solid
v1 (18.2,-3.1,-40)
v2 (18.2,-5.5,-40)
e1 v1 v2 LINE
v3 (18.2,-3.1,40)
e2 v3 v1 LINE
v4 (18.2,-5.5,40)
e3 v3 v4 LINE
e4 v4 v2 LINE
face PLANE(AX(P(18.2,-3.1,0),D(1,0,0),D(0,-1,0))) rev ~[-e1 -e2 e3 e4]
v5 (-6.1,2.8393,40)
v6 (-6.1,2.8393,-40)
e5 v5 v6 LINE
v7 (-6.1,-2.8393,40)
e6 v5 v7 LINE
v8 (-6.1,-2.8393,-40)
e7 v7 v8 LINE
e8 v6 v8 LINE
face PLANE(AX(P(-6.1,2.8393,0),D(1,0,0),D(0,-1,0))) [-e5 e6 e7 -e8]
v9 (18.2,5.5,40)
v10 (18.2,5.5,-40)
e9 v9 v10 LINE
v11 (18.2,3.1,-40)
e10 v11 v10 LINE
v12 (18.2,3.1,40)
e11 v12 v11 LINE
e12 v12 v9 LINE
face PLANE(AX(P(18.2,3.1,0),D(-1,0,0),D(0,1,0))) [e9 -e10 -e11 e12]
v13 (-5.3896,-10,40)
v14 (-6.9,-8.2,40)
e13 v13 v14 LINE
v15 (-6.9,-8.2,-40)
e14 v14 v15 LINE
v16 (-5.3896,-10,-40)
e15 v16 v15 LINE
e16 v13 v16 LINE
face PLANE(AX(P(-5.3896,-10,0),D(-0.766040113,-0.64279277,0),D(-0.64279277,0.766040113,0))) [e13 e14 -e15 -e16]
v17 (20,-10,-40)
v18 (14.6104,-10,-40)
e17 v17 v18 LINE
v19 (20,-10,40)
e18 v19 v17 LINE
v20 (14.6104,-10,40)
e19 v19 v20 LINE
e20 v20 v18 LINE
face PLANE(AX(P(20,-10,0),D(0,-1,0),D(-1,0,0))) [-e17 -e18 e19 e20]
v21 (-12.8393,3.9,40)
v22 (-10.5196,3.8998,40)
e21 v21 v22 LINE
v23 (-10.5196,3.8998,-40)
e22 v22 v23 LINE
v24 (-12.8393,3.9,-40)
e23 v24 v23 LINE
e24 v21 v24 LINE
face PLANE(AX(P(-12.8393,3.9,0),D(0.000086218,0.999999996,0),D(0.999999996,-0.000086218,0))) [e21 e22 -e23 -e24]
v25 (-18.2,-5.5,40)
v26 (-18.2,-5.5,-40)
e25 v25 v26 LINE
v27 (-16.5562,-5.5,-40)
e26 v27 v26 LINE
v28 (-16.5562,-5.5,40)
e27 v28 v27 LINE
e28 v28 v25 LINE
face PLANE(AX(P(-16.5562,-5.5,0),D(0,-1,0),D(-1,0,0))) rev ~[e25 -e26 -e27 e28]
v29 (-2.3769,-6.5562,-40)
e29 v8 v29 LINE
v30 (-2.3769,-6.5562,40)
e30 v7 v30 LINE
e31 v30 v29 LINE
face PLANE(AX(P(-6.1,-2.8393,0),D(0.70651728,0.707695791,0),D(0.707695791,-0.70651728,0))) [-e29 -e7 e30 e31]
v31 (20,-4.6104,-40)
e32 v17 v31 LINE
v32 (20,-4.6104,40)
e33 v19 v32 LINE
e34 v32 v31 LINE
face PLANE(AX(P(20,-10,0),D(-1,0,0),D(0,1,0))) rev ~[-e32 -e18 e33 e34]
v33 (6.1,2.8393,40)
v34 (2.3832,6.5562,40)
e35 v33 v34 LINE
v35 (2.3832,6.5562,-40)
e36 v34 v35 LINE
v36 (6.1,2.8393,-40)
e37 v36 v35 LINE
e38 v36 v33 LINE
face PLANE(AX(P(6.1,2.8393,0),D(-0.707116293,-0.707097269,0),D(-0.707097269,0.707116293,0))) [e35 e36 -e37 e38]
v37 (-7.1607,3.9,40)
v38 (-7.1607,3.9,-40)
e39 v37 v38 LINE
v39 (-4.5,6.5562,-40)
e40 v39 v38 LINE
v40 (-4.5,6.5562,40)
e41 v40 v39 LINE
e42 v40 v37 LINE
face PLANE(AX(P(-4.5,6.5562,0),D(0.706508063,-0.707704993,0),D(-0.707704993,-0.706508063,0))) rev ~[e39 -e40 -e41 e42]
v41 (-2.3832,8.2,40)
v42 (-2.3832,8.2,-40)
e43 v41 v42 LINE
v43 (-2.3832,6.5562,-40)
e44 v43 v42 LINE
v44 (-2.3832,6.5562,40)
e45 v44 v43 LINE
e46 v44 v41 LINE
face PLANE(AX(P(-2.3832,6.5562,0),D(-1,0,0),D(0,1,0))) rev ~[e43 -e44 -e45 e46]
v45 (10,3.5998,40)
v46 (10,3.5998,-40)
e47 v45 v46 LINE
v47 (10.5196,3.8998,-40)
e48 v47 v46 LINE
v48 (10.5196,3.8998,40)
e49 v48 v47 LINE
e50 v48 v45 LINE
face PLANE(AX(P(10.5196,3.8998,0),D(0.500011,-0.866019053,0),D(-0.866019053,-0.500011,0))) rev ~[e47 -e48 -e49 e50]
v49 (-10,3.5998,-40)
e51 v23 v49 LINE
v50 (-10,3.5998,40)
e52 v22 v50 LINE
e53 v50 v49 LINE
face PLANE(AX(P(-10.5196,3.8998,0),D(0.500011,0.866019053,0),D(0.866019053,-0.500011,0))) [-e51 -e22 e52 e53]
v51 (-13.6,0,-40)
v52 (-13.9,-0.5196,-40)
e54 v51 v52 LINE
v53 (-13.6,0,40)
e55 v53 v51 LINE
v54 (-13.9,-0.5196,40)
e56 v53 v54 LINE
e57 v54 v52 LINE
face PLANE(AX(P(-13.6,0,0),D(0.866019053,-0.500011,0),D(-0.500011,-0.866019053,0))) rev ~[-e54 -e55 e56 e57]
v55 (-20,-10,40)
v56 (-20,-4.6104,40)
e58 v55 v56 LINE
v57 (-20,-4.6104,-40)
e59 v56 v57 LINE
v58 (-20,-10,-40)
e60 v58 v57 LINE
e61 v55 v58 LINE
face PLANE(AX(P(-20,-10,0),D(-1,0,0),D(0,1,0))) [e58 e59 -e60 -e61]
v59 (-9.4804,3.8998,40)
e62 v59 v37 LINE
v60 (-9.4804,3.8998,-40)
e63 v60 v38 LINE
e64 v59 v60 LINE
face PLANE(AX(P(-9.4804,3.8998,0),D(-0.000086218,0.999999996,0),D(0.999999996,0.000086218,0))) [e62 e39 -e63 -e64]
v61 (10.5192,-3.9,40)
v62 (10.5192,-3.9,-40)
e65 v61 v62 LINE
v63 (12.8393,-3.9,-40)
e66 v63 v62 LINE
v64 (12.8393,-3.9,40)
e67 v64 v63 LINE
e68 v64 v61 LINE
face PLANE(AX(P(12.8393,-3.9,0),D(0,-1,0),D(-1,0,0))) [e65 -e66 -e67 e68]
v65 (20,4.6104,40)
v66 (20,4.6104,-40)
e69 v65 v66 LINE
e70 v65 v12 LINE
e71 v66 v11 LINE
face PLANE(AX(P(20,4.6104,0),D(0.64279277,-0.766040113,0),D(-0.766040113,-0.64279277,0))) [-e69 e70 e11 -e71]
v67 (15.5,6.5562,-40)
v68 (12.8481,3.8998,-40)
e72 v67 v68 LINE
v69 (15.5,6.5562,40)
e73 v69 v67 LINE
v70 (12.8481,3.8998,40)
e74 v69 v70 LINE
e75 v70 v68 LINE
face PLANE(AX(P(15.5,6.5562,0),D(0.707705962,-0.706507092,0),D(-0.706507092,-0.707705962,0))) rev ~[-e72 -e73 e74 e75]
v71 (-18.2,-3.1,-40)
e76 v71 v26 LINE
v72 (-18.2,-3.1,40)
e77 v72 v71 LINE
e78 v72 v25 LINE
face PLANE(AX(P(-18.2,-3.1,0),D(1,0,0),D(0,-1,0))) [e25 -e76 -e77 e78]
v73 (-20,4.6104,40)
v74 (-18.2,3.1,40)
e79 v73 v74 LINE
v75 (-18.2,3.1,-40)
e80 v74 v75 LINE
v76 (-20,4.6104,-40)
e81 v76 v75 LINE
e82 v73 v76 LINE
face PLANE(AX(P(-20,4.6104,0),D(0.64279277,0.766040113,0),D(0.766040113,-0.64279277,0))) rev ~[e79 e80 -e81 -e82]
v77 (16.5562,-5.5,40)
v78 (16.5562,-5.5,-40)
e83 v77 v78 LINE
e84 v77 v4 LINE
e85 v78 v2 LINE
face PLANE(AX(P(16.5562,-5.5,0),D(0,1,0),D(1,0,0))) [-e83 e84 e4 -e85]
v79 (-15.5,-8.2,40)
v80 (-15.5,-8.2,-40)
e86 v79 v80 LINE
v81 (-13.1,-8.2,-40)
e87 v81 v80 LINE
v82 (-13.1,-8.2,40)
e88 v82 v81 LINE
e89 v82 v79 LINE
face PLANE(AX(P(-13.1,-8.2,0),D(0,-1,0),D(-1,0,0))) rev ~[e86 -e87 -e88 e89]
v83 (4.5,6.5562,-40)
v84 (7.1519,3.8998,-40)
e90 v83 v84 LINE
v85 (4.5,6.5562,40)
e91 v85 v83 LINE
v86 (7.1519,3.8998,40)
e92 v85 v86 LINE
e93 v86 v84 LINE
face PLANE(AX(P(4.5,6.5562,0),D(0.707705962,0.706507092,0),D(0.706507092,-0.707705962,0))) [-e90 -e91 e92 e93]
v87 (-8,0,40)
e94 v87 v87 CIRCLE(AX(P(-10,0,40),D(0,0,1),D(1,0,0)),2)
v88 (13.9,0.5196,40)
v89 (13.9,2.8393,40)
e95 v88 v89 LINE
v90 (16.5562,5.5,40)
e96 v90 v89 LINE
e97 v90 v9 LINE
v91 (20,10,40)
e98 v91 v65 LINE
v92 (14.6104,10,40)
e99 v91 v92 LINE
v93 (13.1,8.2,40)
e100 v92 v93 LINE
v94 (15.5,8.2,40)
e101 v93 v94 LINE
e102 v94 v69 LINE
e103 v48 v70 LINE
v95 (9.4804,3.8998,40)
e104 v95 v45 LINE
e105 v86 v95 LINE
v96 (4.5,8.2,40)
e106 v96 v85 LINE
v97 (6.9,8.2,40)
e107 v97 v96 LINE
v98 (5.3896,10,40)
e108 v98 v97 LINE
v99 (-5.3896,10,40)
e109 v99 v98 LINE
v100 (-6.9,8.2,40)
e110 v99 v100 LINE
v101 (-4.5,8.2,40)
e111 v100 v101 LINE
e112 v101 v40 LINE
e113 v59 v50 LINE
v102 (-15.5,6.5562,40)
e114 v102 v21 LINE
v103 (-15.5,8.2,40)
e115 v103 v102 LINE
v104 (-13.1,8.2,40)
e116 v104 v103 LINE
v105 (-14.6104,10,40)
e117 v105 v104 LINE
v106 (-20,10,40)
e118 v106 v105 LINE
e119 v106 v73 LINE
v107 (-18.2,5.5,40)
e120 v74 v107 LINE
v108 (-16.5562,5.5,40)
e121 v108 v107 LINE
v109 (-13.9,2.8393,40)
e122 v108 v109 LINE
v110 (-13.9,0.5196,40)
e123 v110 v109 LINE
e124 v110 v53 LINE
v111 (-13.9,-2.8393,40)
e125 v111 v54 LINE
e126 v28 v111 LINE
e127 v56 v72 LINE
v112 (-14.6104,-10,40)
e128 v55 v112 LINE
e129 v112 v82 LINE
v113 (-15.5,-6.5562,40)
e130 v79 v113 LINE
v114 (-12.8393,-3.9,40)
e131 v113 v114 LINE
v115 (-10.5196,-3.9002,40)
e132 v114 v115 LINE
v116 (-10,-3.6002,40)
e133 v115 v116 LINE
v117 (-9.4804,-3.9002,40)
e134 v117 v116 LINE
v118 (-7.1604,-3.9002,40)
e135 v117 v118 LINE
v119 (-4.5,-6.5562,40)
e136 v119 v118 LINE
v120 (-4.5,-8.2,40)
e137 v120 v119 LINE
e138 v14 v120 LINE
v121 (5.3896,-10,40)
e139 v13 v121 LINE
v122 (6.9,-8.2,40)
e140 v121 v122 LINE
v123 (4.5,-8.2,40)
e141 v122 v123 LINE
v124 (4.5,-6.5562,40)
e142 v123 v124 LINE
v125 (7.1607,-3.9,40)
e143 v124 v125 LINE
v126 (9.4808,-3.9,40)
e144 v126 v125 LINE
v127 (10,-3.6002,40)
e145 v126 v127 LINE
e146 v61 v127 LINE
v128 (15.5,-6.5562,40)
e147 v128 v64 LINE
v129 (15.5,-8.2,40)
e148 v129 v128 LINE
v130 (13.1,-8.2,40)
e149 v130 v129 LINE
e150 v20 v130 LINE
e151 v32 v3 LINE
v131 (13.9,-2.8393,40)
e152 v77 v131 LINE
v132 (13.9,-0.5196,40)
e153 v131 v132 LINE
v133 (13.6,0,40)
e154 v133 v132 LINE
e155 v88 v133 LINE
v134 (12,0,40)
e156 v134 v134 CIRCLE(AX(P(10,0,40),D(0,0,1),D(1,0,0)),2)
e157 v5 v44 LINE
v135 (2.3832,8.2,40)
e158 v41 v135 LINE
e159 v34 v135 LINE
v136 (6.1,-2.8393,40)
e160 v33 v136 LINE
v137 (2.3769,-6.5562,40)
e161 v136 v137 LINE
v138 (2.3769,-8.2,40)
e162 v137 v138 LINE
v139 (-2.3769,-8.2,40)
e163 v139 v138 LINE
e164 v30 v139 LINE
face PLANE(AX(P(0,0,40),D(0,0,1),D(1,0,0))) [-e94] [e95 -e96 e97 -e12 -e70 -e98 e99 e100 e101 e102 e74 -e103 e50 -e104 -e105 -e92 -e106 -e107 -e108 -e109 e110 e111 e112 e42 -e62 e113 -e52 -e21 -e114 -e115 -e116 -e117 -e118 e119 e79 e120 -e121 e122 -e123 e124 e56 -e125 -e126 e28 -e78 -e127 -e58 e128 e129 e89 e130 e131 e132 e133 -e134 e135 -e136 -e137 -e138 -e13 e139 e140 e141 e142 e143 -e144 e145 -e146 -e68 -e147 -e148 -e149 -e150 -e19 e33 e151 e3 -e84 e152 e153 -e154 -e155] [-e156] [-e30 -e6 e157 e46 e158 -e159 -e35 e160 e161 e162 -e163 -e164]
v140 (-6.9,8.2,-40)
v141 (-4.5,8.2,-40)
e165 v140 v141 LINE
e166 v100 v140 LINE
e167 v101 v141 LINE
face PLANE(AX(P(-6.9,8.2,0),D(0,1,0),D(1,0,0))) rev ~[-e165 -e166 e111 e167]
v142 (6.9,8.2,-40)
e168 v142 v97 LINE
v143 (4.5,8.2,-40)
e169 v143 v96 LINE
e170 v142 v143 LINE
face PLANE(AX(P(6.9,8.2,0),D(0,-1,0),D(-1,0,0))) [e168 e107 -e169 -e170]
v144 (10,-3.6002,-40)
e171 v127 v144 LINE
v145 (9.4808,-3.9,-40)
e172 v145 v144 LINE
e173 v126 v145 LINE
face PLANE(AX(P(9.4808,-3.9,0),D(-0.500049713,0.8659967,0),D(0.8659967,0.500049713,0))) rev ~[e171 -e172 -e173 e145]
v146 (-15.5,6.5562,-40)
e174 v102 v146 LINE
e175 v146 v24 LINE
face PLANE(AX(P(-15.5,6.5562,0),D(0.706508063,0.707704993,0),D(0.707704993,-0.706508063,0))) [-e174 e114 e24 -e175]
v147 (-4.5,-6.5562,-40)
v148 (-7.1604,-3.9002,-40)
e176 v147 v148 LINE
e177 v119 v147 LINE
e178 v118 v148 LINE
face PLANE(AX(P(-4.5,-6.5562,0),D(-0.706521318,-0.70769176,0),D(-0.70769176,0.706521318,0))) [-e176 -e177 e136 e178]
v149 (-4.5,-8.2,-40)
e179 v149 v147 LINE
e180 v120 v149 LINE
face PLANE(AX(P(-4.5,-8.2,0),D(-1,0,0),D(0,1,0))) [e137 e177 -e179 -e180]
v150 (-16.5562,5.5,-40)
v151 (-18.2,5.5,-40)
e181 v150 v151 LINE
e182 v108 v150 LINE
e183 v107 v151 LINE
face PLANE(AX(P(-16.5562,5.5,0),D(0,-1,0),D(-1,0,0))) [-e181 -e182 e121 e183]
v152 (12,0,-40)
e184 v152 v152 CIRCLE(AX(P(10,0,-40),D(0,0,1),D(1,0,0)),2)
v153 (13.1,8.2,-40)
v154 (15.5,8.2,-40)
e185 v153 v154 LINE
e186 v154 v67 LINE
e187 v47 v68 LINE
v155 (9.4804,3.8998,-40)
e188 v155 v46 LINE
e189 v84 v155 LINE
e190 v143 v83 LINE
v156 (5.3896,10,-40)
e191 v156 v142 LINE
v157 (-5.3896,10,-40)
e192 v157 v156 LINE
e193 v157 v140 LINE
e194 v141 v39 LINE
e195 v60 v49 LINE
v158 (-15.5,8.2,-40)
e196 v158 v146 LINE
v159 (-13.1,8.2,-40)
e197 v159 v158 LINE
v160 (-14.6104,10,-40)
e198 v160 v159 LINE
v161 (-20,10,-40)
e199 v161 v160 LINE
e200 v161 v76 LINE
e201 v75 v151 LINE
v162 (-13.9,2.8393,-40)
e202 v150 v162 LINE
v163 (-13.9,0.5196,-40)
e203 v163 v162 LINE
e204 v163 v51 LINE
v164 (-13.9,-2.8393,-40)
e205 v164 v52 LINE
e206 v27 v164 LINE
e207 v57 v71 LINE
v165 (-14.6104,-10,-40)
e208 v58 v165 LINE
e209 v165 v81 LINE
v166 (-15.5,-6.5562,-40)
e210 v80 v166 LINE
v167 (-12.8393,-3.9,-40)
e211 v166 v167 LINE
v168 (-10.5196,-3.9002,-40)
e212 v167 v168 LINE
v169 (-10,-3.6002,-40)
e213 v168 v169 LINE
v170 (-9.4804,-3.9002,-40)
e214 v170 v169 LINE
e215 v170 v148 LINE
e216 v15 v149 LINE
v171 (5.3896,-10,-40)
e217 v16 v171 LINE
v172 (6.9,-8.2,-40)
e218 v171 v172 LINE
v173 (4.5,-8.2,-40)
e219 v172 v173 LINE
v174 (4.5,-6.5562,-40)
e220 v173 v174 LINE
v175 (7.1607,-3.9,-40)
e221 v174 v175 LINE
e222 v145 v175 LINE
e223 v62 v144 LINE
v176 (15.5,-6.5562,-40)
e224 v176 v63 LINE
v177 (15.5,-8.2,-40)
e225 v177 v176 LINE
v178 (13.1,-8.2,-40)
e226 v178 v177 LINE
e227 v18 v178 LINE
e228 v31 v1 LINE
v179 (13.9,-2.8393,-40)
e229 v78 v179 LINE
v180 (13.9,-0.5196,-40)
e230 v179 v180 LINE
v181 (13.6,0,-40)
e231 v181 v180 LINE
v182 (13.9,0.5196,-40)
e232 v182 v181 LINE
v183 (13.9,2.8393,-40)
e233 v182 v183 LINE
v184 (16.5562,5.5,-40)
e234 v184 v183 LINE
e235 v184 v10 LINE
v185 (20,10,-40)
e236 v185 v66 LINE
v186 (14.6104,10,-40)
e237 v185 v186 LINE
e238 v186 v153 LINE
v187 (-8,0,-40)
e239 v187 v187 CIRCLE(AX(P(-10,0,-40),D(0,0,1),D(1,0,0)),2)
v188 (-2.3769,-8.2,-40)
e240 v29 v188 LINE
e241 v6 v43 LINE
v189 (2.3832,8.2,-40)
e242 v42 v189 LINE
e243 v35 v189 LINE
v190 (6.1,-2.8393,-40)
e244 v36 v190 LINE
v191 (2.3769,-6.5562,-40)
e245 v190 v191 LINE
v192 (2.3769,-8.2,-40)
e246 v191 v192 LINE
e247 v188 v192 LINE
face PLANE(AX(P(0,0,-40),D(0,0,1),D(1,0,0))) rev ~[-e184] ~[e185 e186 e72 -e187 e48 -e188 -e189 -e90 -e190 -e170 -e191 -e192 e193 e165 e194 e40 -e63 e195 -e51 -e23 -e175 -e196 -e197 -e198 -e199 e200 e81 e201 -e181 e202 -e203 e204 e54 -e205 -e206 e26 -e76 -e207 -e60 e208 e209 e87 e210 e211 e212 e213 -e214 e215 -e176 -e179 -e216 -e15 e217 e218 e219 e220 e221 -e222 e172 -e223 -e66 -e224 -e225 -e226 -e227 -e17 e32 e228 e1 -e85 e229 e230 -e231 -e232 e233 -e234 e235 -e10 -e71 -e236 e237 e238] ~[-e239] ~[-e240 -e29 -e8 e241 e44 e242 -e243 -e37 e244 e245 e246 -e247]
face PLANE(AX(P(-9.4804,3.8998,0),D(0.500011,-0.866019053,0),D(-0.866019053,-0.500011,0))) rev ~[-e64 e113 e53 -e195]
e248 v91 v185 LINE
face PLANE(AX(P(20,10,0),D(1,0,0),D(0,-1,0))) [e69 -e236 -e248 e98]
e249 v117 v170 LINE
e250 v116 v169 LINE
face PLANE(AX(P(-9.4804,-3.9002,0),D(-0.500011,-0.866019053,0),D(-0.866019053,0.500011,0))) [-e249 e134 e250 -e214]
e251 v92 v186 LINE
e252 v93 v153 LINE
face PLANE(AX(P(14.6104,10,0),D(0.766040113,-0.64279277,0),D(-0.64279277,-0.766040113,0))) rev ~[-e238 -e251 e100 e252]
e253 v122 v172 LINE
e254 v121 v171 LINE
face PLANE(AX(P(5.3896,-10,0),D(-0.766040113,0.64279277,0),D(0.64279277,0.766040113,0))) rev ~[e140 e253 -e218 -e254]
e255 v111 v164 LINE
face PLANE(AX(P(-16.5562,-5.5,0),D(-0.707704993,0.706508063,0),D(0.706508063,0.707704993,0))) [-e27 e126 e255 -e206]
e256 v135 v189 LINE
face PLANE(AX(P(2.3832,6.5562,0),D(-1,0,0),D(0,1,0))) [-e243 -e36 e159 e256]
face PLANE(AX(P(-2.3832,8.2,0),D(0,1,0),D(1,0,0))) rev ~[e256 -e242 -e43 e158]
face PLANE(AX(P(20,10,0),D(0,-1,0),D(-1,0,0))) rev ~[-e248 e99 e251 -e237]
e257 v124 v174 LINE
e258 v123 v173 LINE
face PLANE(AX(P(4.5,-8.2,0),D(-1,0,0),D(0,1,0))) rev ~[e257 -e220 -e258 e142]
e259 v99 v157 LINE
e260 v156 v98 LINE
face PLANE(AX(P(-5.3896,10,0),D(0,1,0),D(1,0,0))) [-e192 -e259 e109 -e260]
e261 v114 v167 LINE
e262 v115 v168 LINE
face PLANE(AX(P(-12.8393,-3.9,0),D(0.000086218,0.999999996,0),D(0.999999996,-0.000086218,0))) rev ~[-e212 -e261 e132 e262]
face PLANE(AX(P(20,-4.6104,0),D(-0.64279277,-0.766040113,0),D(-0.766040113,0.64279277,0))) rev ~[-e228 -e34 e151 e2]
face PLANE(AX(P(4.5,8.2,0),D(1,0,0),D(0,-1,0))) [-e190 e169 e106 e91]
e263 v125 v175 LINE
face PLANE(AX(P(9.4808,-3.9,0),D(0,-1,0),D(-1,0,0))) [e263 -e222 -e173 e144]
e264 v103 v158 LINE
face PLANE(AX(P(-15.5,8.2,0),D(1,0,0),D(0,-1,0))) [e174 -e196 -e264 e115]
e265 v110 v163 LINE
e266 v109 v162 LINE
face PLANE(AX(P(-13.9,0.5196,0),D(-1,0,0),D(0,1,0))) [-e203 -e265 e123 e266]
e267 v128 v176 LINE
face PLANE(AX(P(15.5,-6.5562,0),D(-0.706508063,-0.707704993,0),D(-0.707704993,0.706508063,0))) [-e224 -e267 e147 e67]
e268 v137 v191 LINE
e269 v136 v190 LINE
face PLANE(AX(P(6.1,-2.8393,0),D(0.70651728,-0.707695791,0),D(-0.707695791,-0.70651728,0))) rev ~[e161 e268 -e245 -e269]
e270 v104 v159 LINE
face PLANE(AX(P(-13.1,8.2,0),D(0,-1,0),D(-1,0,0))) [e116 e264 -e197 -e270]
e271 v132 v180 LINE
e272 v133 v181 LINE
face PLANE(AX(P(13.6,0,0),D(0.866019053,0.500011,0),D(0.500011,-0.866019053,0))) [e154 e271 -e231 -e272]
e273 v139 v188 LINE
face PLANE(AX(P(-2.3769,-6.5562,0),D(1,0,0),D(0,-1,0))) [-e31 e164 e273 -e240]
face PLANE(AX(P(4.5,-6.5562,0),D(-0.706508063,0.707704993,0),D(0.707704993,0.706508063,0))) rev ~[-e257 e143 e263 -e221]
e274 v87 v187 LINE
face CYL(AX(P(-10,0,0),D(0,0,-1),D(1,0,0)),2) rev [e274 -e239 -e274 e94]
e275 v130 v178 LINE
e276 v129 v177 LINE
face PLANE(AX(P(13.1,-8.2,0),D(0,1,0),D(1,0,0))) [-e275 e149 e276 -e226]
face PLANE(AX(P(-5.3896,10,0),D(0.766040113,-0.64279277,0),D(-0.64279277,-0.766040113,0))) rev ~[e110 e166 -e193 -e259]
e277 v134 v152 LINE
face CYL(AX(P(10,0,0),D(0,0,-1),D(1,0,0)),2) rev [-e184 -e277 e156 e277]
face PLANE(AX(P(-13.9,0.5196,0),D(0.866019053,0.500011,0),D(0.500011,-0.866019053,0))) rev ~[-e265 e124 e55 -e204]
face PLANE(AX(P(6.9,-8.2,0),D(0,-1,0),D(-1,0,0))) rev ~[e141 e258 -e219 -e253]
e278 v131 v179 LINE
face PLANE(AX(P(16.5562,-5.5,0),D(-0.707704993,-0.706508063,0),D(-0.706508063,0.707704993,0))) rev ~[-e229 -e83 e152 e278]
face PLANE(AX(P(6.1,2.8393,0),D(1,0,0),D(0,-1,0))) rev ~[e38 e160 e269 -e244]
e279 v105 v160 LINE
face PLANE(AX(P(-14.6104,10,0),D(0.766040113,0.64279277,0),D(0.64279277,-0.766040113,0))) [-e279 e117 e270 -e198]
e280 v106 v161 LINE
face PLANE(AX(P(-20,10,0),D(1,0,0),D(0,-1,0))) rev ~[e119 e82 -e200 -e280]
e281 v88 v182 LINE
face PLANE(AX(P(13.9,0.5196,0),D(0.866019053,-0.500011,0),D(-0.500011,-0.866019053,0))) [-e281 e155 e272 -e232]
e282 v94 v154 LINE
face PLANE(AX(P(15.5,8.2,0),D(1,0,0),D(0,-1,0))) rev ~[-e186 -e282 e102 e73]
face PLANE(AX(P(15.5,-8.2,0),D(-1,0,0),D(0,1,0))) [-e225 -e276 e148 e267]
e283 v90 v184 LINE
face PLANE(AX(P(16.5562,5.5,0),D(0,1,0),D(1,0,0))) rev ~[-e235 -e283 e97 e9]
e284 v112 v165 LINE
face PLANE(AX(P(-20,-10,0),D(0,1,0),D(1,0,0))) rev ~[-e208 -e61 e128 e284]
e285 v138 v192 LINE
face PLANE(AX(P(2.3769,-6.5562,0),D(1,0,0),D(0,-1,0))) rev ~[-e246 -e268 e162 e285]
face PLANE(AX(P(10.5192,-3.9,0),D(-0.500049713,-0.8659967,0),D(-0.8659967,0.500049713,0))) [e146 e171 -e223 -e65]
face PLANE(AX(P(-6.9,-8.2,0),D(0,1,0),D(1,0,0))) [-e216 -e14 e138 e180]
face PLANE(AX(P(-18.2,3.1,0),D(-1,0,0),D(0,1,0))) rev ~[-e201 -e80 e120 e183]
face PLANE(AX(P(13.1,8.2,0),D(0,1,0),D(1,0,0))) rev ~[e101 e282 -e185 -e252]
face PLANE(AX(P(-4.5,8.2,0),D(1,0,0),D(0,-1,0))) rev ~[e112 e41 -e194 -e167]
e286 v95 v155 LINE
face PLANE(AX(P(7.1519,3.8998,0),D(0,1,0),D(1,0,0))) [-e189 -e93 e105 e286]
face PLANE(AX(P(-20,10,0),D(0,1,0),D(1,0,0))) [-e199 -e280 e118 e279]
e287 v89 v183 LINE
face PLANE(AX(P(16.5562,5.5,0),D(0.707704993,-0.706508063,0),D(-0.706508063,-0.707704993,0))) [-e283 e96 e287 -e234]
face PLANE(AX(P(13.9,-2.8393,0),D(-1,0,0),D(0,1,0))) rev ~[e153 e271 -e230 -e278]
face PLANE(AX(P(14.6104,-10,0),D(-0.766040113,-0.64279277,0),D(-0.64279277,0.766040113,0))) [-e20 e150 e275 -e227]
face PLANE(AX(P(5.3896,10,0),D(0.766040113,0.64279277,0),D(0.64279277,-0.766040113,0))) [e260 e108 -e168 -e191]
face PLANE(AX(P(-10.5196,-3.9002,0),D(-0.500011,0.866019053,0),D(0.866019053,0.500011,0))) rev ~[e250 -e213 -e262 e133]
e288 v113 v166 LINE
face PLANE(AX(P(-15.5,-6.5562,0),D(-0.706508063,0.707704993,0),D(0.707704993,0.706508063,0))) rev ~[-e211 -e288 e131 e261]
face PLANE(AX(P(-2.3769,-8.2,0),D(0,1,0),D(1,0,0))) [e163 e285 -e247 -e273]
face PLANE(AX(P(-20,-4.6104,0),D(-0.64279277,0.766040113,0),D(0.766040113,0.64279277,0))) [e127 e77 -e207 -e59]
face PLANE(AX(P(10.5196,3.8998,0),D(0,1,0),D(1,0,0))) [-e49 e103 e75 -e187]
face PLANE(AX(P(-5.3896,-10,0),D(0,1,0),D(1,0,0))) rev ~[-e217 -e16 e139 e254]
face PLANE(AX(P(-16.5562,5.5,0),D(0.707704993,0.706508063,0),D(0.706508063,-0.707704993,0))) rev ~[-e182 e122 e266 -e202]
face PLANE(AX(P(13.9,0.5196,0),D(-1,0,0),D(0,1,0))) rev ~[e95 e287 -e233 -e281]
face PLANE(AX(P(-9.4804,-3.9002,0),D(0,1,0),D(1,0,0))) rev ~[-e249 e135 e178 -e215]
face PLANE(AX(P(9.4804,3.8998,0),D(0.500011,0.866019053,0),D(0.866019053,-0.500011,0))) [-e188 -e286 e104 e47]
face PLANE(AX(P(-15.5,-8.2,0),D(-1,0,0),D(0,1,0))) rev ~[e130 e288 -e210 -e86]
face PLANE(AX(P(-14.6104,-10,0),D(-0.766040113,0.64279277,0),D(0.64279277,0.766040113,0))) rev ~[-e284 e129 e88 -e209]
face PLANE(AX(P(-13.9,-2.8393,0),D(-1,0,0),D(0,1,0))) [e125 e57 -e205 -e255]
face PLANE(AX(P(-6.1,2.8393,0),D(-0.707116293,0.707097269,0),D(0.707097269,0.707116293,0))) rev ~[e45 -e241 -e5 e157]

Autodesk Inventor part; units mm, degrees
ref_plane "YZ Plane" through (0, 0, 0) normal (1, 0, 0) x (0, 1, 0)
ref_plane "XZ Plane" through (0, 0, 0) normal (0, 1, 0) x (-1, 0, 0)
ref_plane "XY Plane" through (0, 0, 0) normal (0, 0, 1) x (1, 0, 0)
sketch "Sketch1" plane through (0, 0, 0) normal (0, 0, 1) x (1, 0, 0)
  line L0 (4.5, 8.2) -> (4.5, 6.5562)
  line L1 (6.9, 8.2) -> (4.5, 8.2)
  line L2 (5.3896, 10) -> (6.9, 8.2)
  line L3 (-5.3896, 10) -> (5.3896, 10)
  line L4 (-5.3896, 10) -> (-6.9, 8.2)
  line L5 (-6.9, 8.2) -> (-4.5, 8.2)
  line L6 (-4.5, 8.2) -> (-4.5, 6.5562)
  line L7 (-4.5, 6.5562) -> (-7.1607, 3.9)
  line L8 (-9.4804, 3.8998) -> (-7.1607, 3.9)
  line L9 (-9.4804, 3.8998) -> (-10, 3.5998)
  line L10 (-10.5196, 3.8998) -> (-10, 3.5998)
  line L11 (-12.8393, 3.9) -> (-10.5196, 3.8998)
  line L12 (-15.5, 6.5562) -> (-12.8393, 3.9)
  line L13 (-15.5, 8.2) -> (-15.5, 6.5562)
  line L14 (-13.1, 8.2) -> (-15.5, 8.2)
  line L15 (-14.6104, 10) -> (-13.1, 8.2)
  line L16 (-20, 10) -> (-14.6104, 10)
  line L17 (-20, 10) -> (-20, 4.6104)
  line L18 (-20, 4.6104) -> (-18.2, 3.1)
  line L19 (-18.2, 3.1) -> (-18.2, 5.5)
  line L20 (-16.5562, 5.5) -> (-18.2, 5.5)
  line L21 (-16.5562, 5.5) -> (-13.9, 2.8393)
  line L22 (-13.9, 0.5196) -> (-13.9, 2.8393)
  line L23 (-13.9, 0.5196) -> (-13.6, 0)
  line L24 (-13.6, 0) -> (-13.9, -0.5196)
  line L25 (-13.9, -2.8393) -> (-13.9, -0.5196)
  line L26 (-16.5562, -5.5) -> (-13.9, -2.8393)
  line L27 (-16.5562, -5.5) -> (-18.2, -5.5)
  line L28 (-18.2, -3.1) -> (-18.2, -5.5)
  line L29 (-20, -4.6104) -> (-18.2, -3.1)
  line L30 (-20, -10) -> (-20, -4.6104)
  line L31 (-20, -10) -> (-14.6104, -10)
  line L32 (-14.6104, -10) -> (-13.1, -8.2)
  line L33 (-13.1, -8.2) -> (-15.5, -8.2)
  line L34 (-15.5, -8.2) -> (-15.5, -6.5562)
  line L35 (-15.5, -6.5562) -> (-12.8393, -3.9)
  line L36 (-12.8393, -3.9) -> (-10.5196, -3.9002)
  line L37 (-10.5196, -3.9002) -> (-10, -3.6002)
  line L38 (-9.4804, -3.9002) -> (-10, -3.6002)
  line L39 (-9.4804, -3.9002) -> (-7.1604, -3.9002)
  line L40 (-4.5, -6.5562) -> (-7.1604, -3.9002)
  line L41 (-4.5, -8.2) -> (-4.5, -6.5562)
  line L42 (-6.9, -8.2) -> (-4.5, -8.2)
  line L43 (-5.3896, -10) -> (-6.9, -8.2)
  line L44 (-5.3896, -10) -> (5.3896, -10)
  line L45 (5.3896, -10) -> (6.9, -8.2)
  line L46 (6.9, -8.2) -> (4.5, -8.2)
  line L47 (4.5, -8.2) -> (4.5, -6.5562)
  line L48 (4.5, -6.5562) -> (7.1607, -3.9)
  line L49 (9.4808, -3.9) -> (7.1607, -3.9)
  line L50 (9.4808, -3.9) -> (10, -3.6002)
  line L51 (10.5192, -3.9) -> (10, -3.6002)
  line L52 (12.8393, -3.9) -> (10.5192, -3.9)
  line L53 (15.5, -6.5562) -> (12.8393, -3.9)
  line L54 (15.5, -8.2) -> (15.5, -6.5562)
  line L55 (13.1, -8.2) -> (15.5, -8.2)
  line L56 (14.6104, -10) -> (13.1, -8.2)
  line L57 (20, -10) -> (14.6104, -10)
  line L58 (20, -10) -> (20, -4.6104)
  line L59 (20, -4.6104) -> (18.2, -3.1)
  line L60 (18.2, -3.1) -> (18.2, -5.5)
  line L61 (16.5562, -5.5) -> (18.2, -5.5)
  line L62 (16.5562, -5.5) -> (13.9, -2.8393)
  line L63 (13.9, -2.8393) -> (13.9, -0.5196)
  line L64 (13.6, 0) -> (13.9, -0.5196)
  line L65 (13.9, 0.5196) -> (13.6, 0)
  line L66 (13.9, 0.5196) -> (13.9, 2.8393)
  line L67 (16.5562, 5.5) -> (13.9, 2.8393)
  line L68 (16.5562, 5.5) -> (18.2, 5.5)
  line L69 (18.2, 3.1) -> (18.2, 5.5)
  line L70 (20, 4.6104) -> (18.2, 3.1)
  line L71 (20, 10) -> (20, 4.6104)
  line L72 (20, 10) -> (14.6104, 10)
  line L73 (14.6104, 10) -> (13.1, 8.2)
  line L74 (13.1, 8.2) -> (15.5, 8.2)
  line L75 (15.5, 8.2) -> (15.5, 6.5562)
  line L76 (15.5, 6.5562) -> (12.8481, 3.8998)
  line L77 (10.5196, 3.8998) -> (12.8481, 3.8998)
  line L78 (10.5196, 3.8998) -> (10, 3.5998)
  line L79 (9.4804, 3.8998) -> (10, 3.5998)
  line L80 (7.1519, 3.8998) -> (9.4804, 3.8998)
  line L81 (4.5, 6.5562) -> (7.1519, 3.8998)
  circle A0 centre (-10, 0) radius 2
  circle A1 centre (10, 0) radius 2
  line L82 (6.1, 2.8393) -> (2.3832, 6.5562)
  line L83 (6.1, 2.8393) -> (6.1, -2.8393)
  line L84 (6.1, -2.8393) -> (2.3769, -6.5562)
  line L85 (2.3769, -6.5562) -> (2.3769, -8.2)
  line L86 (-2.3769, -8.2) -> (2.3769, -8.2)
  line L87 (-2.3769, -6.5562) -> (-2.3769, -8.2)
  line L88 (-6.1, -2.8393) -> (-2.3769, -6.5562)
  line L89 (-6.1, 2.8393) -> (-6.1, -2.8393)
  line L90 (-6.1, 2.8393) -> (-2.3832, 6.5562)
  line L91 (-2.3832, 6.5562) -> (-2.3832, 8.2)
  line L92 (-2.3832, 8.2) -> (2.3832, 8.2)
  line L93 (2.3832, 6.5562) -> (2.3832, 8.2)
  point P0 (0, 0)
  point P1 (0, 0)
extrude "Extrusion1" add sketch "Sketch1" along normal mid plane 80
properties part number "vslot_2040_80mm"
